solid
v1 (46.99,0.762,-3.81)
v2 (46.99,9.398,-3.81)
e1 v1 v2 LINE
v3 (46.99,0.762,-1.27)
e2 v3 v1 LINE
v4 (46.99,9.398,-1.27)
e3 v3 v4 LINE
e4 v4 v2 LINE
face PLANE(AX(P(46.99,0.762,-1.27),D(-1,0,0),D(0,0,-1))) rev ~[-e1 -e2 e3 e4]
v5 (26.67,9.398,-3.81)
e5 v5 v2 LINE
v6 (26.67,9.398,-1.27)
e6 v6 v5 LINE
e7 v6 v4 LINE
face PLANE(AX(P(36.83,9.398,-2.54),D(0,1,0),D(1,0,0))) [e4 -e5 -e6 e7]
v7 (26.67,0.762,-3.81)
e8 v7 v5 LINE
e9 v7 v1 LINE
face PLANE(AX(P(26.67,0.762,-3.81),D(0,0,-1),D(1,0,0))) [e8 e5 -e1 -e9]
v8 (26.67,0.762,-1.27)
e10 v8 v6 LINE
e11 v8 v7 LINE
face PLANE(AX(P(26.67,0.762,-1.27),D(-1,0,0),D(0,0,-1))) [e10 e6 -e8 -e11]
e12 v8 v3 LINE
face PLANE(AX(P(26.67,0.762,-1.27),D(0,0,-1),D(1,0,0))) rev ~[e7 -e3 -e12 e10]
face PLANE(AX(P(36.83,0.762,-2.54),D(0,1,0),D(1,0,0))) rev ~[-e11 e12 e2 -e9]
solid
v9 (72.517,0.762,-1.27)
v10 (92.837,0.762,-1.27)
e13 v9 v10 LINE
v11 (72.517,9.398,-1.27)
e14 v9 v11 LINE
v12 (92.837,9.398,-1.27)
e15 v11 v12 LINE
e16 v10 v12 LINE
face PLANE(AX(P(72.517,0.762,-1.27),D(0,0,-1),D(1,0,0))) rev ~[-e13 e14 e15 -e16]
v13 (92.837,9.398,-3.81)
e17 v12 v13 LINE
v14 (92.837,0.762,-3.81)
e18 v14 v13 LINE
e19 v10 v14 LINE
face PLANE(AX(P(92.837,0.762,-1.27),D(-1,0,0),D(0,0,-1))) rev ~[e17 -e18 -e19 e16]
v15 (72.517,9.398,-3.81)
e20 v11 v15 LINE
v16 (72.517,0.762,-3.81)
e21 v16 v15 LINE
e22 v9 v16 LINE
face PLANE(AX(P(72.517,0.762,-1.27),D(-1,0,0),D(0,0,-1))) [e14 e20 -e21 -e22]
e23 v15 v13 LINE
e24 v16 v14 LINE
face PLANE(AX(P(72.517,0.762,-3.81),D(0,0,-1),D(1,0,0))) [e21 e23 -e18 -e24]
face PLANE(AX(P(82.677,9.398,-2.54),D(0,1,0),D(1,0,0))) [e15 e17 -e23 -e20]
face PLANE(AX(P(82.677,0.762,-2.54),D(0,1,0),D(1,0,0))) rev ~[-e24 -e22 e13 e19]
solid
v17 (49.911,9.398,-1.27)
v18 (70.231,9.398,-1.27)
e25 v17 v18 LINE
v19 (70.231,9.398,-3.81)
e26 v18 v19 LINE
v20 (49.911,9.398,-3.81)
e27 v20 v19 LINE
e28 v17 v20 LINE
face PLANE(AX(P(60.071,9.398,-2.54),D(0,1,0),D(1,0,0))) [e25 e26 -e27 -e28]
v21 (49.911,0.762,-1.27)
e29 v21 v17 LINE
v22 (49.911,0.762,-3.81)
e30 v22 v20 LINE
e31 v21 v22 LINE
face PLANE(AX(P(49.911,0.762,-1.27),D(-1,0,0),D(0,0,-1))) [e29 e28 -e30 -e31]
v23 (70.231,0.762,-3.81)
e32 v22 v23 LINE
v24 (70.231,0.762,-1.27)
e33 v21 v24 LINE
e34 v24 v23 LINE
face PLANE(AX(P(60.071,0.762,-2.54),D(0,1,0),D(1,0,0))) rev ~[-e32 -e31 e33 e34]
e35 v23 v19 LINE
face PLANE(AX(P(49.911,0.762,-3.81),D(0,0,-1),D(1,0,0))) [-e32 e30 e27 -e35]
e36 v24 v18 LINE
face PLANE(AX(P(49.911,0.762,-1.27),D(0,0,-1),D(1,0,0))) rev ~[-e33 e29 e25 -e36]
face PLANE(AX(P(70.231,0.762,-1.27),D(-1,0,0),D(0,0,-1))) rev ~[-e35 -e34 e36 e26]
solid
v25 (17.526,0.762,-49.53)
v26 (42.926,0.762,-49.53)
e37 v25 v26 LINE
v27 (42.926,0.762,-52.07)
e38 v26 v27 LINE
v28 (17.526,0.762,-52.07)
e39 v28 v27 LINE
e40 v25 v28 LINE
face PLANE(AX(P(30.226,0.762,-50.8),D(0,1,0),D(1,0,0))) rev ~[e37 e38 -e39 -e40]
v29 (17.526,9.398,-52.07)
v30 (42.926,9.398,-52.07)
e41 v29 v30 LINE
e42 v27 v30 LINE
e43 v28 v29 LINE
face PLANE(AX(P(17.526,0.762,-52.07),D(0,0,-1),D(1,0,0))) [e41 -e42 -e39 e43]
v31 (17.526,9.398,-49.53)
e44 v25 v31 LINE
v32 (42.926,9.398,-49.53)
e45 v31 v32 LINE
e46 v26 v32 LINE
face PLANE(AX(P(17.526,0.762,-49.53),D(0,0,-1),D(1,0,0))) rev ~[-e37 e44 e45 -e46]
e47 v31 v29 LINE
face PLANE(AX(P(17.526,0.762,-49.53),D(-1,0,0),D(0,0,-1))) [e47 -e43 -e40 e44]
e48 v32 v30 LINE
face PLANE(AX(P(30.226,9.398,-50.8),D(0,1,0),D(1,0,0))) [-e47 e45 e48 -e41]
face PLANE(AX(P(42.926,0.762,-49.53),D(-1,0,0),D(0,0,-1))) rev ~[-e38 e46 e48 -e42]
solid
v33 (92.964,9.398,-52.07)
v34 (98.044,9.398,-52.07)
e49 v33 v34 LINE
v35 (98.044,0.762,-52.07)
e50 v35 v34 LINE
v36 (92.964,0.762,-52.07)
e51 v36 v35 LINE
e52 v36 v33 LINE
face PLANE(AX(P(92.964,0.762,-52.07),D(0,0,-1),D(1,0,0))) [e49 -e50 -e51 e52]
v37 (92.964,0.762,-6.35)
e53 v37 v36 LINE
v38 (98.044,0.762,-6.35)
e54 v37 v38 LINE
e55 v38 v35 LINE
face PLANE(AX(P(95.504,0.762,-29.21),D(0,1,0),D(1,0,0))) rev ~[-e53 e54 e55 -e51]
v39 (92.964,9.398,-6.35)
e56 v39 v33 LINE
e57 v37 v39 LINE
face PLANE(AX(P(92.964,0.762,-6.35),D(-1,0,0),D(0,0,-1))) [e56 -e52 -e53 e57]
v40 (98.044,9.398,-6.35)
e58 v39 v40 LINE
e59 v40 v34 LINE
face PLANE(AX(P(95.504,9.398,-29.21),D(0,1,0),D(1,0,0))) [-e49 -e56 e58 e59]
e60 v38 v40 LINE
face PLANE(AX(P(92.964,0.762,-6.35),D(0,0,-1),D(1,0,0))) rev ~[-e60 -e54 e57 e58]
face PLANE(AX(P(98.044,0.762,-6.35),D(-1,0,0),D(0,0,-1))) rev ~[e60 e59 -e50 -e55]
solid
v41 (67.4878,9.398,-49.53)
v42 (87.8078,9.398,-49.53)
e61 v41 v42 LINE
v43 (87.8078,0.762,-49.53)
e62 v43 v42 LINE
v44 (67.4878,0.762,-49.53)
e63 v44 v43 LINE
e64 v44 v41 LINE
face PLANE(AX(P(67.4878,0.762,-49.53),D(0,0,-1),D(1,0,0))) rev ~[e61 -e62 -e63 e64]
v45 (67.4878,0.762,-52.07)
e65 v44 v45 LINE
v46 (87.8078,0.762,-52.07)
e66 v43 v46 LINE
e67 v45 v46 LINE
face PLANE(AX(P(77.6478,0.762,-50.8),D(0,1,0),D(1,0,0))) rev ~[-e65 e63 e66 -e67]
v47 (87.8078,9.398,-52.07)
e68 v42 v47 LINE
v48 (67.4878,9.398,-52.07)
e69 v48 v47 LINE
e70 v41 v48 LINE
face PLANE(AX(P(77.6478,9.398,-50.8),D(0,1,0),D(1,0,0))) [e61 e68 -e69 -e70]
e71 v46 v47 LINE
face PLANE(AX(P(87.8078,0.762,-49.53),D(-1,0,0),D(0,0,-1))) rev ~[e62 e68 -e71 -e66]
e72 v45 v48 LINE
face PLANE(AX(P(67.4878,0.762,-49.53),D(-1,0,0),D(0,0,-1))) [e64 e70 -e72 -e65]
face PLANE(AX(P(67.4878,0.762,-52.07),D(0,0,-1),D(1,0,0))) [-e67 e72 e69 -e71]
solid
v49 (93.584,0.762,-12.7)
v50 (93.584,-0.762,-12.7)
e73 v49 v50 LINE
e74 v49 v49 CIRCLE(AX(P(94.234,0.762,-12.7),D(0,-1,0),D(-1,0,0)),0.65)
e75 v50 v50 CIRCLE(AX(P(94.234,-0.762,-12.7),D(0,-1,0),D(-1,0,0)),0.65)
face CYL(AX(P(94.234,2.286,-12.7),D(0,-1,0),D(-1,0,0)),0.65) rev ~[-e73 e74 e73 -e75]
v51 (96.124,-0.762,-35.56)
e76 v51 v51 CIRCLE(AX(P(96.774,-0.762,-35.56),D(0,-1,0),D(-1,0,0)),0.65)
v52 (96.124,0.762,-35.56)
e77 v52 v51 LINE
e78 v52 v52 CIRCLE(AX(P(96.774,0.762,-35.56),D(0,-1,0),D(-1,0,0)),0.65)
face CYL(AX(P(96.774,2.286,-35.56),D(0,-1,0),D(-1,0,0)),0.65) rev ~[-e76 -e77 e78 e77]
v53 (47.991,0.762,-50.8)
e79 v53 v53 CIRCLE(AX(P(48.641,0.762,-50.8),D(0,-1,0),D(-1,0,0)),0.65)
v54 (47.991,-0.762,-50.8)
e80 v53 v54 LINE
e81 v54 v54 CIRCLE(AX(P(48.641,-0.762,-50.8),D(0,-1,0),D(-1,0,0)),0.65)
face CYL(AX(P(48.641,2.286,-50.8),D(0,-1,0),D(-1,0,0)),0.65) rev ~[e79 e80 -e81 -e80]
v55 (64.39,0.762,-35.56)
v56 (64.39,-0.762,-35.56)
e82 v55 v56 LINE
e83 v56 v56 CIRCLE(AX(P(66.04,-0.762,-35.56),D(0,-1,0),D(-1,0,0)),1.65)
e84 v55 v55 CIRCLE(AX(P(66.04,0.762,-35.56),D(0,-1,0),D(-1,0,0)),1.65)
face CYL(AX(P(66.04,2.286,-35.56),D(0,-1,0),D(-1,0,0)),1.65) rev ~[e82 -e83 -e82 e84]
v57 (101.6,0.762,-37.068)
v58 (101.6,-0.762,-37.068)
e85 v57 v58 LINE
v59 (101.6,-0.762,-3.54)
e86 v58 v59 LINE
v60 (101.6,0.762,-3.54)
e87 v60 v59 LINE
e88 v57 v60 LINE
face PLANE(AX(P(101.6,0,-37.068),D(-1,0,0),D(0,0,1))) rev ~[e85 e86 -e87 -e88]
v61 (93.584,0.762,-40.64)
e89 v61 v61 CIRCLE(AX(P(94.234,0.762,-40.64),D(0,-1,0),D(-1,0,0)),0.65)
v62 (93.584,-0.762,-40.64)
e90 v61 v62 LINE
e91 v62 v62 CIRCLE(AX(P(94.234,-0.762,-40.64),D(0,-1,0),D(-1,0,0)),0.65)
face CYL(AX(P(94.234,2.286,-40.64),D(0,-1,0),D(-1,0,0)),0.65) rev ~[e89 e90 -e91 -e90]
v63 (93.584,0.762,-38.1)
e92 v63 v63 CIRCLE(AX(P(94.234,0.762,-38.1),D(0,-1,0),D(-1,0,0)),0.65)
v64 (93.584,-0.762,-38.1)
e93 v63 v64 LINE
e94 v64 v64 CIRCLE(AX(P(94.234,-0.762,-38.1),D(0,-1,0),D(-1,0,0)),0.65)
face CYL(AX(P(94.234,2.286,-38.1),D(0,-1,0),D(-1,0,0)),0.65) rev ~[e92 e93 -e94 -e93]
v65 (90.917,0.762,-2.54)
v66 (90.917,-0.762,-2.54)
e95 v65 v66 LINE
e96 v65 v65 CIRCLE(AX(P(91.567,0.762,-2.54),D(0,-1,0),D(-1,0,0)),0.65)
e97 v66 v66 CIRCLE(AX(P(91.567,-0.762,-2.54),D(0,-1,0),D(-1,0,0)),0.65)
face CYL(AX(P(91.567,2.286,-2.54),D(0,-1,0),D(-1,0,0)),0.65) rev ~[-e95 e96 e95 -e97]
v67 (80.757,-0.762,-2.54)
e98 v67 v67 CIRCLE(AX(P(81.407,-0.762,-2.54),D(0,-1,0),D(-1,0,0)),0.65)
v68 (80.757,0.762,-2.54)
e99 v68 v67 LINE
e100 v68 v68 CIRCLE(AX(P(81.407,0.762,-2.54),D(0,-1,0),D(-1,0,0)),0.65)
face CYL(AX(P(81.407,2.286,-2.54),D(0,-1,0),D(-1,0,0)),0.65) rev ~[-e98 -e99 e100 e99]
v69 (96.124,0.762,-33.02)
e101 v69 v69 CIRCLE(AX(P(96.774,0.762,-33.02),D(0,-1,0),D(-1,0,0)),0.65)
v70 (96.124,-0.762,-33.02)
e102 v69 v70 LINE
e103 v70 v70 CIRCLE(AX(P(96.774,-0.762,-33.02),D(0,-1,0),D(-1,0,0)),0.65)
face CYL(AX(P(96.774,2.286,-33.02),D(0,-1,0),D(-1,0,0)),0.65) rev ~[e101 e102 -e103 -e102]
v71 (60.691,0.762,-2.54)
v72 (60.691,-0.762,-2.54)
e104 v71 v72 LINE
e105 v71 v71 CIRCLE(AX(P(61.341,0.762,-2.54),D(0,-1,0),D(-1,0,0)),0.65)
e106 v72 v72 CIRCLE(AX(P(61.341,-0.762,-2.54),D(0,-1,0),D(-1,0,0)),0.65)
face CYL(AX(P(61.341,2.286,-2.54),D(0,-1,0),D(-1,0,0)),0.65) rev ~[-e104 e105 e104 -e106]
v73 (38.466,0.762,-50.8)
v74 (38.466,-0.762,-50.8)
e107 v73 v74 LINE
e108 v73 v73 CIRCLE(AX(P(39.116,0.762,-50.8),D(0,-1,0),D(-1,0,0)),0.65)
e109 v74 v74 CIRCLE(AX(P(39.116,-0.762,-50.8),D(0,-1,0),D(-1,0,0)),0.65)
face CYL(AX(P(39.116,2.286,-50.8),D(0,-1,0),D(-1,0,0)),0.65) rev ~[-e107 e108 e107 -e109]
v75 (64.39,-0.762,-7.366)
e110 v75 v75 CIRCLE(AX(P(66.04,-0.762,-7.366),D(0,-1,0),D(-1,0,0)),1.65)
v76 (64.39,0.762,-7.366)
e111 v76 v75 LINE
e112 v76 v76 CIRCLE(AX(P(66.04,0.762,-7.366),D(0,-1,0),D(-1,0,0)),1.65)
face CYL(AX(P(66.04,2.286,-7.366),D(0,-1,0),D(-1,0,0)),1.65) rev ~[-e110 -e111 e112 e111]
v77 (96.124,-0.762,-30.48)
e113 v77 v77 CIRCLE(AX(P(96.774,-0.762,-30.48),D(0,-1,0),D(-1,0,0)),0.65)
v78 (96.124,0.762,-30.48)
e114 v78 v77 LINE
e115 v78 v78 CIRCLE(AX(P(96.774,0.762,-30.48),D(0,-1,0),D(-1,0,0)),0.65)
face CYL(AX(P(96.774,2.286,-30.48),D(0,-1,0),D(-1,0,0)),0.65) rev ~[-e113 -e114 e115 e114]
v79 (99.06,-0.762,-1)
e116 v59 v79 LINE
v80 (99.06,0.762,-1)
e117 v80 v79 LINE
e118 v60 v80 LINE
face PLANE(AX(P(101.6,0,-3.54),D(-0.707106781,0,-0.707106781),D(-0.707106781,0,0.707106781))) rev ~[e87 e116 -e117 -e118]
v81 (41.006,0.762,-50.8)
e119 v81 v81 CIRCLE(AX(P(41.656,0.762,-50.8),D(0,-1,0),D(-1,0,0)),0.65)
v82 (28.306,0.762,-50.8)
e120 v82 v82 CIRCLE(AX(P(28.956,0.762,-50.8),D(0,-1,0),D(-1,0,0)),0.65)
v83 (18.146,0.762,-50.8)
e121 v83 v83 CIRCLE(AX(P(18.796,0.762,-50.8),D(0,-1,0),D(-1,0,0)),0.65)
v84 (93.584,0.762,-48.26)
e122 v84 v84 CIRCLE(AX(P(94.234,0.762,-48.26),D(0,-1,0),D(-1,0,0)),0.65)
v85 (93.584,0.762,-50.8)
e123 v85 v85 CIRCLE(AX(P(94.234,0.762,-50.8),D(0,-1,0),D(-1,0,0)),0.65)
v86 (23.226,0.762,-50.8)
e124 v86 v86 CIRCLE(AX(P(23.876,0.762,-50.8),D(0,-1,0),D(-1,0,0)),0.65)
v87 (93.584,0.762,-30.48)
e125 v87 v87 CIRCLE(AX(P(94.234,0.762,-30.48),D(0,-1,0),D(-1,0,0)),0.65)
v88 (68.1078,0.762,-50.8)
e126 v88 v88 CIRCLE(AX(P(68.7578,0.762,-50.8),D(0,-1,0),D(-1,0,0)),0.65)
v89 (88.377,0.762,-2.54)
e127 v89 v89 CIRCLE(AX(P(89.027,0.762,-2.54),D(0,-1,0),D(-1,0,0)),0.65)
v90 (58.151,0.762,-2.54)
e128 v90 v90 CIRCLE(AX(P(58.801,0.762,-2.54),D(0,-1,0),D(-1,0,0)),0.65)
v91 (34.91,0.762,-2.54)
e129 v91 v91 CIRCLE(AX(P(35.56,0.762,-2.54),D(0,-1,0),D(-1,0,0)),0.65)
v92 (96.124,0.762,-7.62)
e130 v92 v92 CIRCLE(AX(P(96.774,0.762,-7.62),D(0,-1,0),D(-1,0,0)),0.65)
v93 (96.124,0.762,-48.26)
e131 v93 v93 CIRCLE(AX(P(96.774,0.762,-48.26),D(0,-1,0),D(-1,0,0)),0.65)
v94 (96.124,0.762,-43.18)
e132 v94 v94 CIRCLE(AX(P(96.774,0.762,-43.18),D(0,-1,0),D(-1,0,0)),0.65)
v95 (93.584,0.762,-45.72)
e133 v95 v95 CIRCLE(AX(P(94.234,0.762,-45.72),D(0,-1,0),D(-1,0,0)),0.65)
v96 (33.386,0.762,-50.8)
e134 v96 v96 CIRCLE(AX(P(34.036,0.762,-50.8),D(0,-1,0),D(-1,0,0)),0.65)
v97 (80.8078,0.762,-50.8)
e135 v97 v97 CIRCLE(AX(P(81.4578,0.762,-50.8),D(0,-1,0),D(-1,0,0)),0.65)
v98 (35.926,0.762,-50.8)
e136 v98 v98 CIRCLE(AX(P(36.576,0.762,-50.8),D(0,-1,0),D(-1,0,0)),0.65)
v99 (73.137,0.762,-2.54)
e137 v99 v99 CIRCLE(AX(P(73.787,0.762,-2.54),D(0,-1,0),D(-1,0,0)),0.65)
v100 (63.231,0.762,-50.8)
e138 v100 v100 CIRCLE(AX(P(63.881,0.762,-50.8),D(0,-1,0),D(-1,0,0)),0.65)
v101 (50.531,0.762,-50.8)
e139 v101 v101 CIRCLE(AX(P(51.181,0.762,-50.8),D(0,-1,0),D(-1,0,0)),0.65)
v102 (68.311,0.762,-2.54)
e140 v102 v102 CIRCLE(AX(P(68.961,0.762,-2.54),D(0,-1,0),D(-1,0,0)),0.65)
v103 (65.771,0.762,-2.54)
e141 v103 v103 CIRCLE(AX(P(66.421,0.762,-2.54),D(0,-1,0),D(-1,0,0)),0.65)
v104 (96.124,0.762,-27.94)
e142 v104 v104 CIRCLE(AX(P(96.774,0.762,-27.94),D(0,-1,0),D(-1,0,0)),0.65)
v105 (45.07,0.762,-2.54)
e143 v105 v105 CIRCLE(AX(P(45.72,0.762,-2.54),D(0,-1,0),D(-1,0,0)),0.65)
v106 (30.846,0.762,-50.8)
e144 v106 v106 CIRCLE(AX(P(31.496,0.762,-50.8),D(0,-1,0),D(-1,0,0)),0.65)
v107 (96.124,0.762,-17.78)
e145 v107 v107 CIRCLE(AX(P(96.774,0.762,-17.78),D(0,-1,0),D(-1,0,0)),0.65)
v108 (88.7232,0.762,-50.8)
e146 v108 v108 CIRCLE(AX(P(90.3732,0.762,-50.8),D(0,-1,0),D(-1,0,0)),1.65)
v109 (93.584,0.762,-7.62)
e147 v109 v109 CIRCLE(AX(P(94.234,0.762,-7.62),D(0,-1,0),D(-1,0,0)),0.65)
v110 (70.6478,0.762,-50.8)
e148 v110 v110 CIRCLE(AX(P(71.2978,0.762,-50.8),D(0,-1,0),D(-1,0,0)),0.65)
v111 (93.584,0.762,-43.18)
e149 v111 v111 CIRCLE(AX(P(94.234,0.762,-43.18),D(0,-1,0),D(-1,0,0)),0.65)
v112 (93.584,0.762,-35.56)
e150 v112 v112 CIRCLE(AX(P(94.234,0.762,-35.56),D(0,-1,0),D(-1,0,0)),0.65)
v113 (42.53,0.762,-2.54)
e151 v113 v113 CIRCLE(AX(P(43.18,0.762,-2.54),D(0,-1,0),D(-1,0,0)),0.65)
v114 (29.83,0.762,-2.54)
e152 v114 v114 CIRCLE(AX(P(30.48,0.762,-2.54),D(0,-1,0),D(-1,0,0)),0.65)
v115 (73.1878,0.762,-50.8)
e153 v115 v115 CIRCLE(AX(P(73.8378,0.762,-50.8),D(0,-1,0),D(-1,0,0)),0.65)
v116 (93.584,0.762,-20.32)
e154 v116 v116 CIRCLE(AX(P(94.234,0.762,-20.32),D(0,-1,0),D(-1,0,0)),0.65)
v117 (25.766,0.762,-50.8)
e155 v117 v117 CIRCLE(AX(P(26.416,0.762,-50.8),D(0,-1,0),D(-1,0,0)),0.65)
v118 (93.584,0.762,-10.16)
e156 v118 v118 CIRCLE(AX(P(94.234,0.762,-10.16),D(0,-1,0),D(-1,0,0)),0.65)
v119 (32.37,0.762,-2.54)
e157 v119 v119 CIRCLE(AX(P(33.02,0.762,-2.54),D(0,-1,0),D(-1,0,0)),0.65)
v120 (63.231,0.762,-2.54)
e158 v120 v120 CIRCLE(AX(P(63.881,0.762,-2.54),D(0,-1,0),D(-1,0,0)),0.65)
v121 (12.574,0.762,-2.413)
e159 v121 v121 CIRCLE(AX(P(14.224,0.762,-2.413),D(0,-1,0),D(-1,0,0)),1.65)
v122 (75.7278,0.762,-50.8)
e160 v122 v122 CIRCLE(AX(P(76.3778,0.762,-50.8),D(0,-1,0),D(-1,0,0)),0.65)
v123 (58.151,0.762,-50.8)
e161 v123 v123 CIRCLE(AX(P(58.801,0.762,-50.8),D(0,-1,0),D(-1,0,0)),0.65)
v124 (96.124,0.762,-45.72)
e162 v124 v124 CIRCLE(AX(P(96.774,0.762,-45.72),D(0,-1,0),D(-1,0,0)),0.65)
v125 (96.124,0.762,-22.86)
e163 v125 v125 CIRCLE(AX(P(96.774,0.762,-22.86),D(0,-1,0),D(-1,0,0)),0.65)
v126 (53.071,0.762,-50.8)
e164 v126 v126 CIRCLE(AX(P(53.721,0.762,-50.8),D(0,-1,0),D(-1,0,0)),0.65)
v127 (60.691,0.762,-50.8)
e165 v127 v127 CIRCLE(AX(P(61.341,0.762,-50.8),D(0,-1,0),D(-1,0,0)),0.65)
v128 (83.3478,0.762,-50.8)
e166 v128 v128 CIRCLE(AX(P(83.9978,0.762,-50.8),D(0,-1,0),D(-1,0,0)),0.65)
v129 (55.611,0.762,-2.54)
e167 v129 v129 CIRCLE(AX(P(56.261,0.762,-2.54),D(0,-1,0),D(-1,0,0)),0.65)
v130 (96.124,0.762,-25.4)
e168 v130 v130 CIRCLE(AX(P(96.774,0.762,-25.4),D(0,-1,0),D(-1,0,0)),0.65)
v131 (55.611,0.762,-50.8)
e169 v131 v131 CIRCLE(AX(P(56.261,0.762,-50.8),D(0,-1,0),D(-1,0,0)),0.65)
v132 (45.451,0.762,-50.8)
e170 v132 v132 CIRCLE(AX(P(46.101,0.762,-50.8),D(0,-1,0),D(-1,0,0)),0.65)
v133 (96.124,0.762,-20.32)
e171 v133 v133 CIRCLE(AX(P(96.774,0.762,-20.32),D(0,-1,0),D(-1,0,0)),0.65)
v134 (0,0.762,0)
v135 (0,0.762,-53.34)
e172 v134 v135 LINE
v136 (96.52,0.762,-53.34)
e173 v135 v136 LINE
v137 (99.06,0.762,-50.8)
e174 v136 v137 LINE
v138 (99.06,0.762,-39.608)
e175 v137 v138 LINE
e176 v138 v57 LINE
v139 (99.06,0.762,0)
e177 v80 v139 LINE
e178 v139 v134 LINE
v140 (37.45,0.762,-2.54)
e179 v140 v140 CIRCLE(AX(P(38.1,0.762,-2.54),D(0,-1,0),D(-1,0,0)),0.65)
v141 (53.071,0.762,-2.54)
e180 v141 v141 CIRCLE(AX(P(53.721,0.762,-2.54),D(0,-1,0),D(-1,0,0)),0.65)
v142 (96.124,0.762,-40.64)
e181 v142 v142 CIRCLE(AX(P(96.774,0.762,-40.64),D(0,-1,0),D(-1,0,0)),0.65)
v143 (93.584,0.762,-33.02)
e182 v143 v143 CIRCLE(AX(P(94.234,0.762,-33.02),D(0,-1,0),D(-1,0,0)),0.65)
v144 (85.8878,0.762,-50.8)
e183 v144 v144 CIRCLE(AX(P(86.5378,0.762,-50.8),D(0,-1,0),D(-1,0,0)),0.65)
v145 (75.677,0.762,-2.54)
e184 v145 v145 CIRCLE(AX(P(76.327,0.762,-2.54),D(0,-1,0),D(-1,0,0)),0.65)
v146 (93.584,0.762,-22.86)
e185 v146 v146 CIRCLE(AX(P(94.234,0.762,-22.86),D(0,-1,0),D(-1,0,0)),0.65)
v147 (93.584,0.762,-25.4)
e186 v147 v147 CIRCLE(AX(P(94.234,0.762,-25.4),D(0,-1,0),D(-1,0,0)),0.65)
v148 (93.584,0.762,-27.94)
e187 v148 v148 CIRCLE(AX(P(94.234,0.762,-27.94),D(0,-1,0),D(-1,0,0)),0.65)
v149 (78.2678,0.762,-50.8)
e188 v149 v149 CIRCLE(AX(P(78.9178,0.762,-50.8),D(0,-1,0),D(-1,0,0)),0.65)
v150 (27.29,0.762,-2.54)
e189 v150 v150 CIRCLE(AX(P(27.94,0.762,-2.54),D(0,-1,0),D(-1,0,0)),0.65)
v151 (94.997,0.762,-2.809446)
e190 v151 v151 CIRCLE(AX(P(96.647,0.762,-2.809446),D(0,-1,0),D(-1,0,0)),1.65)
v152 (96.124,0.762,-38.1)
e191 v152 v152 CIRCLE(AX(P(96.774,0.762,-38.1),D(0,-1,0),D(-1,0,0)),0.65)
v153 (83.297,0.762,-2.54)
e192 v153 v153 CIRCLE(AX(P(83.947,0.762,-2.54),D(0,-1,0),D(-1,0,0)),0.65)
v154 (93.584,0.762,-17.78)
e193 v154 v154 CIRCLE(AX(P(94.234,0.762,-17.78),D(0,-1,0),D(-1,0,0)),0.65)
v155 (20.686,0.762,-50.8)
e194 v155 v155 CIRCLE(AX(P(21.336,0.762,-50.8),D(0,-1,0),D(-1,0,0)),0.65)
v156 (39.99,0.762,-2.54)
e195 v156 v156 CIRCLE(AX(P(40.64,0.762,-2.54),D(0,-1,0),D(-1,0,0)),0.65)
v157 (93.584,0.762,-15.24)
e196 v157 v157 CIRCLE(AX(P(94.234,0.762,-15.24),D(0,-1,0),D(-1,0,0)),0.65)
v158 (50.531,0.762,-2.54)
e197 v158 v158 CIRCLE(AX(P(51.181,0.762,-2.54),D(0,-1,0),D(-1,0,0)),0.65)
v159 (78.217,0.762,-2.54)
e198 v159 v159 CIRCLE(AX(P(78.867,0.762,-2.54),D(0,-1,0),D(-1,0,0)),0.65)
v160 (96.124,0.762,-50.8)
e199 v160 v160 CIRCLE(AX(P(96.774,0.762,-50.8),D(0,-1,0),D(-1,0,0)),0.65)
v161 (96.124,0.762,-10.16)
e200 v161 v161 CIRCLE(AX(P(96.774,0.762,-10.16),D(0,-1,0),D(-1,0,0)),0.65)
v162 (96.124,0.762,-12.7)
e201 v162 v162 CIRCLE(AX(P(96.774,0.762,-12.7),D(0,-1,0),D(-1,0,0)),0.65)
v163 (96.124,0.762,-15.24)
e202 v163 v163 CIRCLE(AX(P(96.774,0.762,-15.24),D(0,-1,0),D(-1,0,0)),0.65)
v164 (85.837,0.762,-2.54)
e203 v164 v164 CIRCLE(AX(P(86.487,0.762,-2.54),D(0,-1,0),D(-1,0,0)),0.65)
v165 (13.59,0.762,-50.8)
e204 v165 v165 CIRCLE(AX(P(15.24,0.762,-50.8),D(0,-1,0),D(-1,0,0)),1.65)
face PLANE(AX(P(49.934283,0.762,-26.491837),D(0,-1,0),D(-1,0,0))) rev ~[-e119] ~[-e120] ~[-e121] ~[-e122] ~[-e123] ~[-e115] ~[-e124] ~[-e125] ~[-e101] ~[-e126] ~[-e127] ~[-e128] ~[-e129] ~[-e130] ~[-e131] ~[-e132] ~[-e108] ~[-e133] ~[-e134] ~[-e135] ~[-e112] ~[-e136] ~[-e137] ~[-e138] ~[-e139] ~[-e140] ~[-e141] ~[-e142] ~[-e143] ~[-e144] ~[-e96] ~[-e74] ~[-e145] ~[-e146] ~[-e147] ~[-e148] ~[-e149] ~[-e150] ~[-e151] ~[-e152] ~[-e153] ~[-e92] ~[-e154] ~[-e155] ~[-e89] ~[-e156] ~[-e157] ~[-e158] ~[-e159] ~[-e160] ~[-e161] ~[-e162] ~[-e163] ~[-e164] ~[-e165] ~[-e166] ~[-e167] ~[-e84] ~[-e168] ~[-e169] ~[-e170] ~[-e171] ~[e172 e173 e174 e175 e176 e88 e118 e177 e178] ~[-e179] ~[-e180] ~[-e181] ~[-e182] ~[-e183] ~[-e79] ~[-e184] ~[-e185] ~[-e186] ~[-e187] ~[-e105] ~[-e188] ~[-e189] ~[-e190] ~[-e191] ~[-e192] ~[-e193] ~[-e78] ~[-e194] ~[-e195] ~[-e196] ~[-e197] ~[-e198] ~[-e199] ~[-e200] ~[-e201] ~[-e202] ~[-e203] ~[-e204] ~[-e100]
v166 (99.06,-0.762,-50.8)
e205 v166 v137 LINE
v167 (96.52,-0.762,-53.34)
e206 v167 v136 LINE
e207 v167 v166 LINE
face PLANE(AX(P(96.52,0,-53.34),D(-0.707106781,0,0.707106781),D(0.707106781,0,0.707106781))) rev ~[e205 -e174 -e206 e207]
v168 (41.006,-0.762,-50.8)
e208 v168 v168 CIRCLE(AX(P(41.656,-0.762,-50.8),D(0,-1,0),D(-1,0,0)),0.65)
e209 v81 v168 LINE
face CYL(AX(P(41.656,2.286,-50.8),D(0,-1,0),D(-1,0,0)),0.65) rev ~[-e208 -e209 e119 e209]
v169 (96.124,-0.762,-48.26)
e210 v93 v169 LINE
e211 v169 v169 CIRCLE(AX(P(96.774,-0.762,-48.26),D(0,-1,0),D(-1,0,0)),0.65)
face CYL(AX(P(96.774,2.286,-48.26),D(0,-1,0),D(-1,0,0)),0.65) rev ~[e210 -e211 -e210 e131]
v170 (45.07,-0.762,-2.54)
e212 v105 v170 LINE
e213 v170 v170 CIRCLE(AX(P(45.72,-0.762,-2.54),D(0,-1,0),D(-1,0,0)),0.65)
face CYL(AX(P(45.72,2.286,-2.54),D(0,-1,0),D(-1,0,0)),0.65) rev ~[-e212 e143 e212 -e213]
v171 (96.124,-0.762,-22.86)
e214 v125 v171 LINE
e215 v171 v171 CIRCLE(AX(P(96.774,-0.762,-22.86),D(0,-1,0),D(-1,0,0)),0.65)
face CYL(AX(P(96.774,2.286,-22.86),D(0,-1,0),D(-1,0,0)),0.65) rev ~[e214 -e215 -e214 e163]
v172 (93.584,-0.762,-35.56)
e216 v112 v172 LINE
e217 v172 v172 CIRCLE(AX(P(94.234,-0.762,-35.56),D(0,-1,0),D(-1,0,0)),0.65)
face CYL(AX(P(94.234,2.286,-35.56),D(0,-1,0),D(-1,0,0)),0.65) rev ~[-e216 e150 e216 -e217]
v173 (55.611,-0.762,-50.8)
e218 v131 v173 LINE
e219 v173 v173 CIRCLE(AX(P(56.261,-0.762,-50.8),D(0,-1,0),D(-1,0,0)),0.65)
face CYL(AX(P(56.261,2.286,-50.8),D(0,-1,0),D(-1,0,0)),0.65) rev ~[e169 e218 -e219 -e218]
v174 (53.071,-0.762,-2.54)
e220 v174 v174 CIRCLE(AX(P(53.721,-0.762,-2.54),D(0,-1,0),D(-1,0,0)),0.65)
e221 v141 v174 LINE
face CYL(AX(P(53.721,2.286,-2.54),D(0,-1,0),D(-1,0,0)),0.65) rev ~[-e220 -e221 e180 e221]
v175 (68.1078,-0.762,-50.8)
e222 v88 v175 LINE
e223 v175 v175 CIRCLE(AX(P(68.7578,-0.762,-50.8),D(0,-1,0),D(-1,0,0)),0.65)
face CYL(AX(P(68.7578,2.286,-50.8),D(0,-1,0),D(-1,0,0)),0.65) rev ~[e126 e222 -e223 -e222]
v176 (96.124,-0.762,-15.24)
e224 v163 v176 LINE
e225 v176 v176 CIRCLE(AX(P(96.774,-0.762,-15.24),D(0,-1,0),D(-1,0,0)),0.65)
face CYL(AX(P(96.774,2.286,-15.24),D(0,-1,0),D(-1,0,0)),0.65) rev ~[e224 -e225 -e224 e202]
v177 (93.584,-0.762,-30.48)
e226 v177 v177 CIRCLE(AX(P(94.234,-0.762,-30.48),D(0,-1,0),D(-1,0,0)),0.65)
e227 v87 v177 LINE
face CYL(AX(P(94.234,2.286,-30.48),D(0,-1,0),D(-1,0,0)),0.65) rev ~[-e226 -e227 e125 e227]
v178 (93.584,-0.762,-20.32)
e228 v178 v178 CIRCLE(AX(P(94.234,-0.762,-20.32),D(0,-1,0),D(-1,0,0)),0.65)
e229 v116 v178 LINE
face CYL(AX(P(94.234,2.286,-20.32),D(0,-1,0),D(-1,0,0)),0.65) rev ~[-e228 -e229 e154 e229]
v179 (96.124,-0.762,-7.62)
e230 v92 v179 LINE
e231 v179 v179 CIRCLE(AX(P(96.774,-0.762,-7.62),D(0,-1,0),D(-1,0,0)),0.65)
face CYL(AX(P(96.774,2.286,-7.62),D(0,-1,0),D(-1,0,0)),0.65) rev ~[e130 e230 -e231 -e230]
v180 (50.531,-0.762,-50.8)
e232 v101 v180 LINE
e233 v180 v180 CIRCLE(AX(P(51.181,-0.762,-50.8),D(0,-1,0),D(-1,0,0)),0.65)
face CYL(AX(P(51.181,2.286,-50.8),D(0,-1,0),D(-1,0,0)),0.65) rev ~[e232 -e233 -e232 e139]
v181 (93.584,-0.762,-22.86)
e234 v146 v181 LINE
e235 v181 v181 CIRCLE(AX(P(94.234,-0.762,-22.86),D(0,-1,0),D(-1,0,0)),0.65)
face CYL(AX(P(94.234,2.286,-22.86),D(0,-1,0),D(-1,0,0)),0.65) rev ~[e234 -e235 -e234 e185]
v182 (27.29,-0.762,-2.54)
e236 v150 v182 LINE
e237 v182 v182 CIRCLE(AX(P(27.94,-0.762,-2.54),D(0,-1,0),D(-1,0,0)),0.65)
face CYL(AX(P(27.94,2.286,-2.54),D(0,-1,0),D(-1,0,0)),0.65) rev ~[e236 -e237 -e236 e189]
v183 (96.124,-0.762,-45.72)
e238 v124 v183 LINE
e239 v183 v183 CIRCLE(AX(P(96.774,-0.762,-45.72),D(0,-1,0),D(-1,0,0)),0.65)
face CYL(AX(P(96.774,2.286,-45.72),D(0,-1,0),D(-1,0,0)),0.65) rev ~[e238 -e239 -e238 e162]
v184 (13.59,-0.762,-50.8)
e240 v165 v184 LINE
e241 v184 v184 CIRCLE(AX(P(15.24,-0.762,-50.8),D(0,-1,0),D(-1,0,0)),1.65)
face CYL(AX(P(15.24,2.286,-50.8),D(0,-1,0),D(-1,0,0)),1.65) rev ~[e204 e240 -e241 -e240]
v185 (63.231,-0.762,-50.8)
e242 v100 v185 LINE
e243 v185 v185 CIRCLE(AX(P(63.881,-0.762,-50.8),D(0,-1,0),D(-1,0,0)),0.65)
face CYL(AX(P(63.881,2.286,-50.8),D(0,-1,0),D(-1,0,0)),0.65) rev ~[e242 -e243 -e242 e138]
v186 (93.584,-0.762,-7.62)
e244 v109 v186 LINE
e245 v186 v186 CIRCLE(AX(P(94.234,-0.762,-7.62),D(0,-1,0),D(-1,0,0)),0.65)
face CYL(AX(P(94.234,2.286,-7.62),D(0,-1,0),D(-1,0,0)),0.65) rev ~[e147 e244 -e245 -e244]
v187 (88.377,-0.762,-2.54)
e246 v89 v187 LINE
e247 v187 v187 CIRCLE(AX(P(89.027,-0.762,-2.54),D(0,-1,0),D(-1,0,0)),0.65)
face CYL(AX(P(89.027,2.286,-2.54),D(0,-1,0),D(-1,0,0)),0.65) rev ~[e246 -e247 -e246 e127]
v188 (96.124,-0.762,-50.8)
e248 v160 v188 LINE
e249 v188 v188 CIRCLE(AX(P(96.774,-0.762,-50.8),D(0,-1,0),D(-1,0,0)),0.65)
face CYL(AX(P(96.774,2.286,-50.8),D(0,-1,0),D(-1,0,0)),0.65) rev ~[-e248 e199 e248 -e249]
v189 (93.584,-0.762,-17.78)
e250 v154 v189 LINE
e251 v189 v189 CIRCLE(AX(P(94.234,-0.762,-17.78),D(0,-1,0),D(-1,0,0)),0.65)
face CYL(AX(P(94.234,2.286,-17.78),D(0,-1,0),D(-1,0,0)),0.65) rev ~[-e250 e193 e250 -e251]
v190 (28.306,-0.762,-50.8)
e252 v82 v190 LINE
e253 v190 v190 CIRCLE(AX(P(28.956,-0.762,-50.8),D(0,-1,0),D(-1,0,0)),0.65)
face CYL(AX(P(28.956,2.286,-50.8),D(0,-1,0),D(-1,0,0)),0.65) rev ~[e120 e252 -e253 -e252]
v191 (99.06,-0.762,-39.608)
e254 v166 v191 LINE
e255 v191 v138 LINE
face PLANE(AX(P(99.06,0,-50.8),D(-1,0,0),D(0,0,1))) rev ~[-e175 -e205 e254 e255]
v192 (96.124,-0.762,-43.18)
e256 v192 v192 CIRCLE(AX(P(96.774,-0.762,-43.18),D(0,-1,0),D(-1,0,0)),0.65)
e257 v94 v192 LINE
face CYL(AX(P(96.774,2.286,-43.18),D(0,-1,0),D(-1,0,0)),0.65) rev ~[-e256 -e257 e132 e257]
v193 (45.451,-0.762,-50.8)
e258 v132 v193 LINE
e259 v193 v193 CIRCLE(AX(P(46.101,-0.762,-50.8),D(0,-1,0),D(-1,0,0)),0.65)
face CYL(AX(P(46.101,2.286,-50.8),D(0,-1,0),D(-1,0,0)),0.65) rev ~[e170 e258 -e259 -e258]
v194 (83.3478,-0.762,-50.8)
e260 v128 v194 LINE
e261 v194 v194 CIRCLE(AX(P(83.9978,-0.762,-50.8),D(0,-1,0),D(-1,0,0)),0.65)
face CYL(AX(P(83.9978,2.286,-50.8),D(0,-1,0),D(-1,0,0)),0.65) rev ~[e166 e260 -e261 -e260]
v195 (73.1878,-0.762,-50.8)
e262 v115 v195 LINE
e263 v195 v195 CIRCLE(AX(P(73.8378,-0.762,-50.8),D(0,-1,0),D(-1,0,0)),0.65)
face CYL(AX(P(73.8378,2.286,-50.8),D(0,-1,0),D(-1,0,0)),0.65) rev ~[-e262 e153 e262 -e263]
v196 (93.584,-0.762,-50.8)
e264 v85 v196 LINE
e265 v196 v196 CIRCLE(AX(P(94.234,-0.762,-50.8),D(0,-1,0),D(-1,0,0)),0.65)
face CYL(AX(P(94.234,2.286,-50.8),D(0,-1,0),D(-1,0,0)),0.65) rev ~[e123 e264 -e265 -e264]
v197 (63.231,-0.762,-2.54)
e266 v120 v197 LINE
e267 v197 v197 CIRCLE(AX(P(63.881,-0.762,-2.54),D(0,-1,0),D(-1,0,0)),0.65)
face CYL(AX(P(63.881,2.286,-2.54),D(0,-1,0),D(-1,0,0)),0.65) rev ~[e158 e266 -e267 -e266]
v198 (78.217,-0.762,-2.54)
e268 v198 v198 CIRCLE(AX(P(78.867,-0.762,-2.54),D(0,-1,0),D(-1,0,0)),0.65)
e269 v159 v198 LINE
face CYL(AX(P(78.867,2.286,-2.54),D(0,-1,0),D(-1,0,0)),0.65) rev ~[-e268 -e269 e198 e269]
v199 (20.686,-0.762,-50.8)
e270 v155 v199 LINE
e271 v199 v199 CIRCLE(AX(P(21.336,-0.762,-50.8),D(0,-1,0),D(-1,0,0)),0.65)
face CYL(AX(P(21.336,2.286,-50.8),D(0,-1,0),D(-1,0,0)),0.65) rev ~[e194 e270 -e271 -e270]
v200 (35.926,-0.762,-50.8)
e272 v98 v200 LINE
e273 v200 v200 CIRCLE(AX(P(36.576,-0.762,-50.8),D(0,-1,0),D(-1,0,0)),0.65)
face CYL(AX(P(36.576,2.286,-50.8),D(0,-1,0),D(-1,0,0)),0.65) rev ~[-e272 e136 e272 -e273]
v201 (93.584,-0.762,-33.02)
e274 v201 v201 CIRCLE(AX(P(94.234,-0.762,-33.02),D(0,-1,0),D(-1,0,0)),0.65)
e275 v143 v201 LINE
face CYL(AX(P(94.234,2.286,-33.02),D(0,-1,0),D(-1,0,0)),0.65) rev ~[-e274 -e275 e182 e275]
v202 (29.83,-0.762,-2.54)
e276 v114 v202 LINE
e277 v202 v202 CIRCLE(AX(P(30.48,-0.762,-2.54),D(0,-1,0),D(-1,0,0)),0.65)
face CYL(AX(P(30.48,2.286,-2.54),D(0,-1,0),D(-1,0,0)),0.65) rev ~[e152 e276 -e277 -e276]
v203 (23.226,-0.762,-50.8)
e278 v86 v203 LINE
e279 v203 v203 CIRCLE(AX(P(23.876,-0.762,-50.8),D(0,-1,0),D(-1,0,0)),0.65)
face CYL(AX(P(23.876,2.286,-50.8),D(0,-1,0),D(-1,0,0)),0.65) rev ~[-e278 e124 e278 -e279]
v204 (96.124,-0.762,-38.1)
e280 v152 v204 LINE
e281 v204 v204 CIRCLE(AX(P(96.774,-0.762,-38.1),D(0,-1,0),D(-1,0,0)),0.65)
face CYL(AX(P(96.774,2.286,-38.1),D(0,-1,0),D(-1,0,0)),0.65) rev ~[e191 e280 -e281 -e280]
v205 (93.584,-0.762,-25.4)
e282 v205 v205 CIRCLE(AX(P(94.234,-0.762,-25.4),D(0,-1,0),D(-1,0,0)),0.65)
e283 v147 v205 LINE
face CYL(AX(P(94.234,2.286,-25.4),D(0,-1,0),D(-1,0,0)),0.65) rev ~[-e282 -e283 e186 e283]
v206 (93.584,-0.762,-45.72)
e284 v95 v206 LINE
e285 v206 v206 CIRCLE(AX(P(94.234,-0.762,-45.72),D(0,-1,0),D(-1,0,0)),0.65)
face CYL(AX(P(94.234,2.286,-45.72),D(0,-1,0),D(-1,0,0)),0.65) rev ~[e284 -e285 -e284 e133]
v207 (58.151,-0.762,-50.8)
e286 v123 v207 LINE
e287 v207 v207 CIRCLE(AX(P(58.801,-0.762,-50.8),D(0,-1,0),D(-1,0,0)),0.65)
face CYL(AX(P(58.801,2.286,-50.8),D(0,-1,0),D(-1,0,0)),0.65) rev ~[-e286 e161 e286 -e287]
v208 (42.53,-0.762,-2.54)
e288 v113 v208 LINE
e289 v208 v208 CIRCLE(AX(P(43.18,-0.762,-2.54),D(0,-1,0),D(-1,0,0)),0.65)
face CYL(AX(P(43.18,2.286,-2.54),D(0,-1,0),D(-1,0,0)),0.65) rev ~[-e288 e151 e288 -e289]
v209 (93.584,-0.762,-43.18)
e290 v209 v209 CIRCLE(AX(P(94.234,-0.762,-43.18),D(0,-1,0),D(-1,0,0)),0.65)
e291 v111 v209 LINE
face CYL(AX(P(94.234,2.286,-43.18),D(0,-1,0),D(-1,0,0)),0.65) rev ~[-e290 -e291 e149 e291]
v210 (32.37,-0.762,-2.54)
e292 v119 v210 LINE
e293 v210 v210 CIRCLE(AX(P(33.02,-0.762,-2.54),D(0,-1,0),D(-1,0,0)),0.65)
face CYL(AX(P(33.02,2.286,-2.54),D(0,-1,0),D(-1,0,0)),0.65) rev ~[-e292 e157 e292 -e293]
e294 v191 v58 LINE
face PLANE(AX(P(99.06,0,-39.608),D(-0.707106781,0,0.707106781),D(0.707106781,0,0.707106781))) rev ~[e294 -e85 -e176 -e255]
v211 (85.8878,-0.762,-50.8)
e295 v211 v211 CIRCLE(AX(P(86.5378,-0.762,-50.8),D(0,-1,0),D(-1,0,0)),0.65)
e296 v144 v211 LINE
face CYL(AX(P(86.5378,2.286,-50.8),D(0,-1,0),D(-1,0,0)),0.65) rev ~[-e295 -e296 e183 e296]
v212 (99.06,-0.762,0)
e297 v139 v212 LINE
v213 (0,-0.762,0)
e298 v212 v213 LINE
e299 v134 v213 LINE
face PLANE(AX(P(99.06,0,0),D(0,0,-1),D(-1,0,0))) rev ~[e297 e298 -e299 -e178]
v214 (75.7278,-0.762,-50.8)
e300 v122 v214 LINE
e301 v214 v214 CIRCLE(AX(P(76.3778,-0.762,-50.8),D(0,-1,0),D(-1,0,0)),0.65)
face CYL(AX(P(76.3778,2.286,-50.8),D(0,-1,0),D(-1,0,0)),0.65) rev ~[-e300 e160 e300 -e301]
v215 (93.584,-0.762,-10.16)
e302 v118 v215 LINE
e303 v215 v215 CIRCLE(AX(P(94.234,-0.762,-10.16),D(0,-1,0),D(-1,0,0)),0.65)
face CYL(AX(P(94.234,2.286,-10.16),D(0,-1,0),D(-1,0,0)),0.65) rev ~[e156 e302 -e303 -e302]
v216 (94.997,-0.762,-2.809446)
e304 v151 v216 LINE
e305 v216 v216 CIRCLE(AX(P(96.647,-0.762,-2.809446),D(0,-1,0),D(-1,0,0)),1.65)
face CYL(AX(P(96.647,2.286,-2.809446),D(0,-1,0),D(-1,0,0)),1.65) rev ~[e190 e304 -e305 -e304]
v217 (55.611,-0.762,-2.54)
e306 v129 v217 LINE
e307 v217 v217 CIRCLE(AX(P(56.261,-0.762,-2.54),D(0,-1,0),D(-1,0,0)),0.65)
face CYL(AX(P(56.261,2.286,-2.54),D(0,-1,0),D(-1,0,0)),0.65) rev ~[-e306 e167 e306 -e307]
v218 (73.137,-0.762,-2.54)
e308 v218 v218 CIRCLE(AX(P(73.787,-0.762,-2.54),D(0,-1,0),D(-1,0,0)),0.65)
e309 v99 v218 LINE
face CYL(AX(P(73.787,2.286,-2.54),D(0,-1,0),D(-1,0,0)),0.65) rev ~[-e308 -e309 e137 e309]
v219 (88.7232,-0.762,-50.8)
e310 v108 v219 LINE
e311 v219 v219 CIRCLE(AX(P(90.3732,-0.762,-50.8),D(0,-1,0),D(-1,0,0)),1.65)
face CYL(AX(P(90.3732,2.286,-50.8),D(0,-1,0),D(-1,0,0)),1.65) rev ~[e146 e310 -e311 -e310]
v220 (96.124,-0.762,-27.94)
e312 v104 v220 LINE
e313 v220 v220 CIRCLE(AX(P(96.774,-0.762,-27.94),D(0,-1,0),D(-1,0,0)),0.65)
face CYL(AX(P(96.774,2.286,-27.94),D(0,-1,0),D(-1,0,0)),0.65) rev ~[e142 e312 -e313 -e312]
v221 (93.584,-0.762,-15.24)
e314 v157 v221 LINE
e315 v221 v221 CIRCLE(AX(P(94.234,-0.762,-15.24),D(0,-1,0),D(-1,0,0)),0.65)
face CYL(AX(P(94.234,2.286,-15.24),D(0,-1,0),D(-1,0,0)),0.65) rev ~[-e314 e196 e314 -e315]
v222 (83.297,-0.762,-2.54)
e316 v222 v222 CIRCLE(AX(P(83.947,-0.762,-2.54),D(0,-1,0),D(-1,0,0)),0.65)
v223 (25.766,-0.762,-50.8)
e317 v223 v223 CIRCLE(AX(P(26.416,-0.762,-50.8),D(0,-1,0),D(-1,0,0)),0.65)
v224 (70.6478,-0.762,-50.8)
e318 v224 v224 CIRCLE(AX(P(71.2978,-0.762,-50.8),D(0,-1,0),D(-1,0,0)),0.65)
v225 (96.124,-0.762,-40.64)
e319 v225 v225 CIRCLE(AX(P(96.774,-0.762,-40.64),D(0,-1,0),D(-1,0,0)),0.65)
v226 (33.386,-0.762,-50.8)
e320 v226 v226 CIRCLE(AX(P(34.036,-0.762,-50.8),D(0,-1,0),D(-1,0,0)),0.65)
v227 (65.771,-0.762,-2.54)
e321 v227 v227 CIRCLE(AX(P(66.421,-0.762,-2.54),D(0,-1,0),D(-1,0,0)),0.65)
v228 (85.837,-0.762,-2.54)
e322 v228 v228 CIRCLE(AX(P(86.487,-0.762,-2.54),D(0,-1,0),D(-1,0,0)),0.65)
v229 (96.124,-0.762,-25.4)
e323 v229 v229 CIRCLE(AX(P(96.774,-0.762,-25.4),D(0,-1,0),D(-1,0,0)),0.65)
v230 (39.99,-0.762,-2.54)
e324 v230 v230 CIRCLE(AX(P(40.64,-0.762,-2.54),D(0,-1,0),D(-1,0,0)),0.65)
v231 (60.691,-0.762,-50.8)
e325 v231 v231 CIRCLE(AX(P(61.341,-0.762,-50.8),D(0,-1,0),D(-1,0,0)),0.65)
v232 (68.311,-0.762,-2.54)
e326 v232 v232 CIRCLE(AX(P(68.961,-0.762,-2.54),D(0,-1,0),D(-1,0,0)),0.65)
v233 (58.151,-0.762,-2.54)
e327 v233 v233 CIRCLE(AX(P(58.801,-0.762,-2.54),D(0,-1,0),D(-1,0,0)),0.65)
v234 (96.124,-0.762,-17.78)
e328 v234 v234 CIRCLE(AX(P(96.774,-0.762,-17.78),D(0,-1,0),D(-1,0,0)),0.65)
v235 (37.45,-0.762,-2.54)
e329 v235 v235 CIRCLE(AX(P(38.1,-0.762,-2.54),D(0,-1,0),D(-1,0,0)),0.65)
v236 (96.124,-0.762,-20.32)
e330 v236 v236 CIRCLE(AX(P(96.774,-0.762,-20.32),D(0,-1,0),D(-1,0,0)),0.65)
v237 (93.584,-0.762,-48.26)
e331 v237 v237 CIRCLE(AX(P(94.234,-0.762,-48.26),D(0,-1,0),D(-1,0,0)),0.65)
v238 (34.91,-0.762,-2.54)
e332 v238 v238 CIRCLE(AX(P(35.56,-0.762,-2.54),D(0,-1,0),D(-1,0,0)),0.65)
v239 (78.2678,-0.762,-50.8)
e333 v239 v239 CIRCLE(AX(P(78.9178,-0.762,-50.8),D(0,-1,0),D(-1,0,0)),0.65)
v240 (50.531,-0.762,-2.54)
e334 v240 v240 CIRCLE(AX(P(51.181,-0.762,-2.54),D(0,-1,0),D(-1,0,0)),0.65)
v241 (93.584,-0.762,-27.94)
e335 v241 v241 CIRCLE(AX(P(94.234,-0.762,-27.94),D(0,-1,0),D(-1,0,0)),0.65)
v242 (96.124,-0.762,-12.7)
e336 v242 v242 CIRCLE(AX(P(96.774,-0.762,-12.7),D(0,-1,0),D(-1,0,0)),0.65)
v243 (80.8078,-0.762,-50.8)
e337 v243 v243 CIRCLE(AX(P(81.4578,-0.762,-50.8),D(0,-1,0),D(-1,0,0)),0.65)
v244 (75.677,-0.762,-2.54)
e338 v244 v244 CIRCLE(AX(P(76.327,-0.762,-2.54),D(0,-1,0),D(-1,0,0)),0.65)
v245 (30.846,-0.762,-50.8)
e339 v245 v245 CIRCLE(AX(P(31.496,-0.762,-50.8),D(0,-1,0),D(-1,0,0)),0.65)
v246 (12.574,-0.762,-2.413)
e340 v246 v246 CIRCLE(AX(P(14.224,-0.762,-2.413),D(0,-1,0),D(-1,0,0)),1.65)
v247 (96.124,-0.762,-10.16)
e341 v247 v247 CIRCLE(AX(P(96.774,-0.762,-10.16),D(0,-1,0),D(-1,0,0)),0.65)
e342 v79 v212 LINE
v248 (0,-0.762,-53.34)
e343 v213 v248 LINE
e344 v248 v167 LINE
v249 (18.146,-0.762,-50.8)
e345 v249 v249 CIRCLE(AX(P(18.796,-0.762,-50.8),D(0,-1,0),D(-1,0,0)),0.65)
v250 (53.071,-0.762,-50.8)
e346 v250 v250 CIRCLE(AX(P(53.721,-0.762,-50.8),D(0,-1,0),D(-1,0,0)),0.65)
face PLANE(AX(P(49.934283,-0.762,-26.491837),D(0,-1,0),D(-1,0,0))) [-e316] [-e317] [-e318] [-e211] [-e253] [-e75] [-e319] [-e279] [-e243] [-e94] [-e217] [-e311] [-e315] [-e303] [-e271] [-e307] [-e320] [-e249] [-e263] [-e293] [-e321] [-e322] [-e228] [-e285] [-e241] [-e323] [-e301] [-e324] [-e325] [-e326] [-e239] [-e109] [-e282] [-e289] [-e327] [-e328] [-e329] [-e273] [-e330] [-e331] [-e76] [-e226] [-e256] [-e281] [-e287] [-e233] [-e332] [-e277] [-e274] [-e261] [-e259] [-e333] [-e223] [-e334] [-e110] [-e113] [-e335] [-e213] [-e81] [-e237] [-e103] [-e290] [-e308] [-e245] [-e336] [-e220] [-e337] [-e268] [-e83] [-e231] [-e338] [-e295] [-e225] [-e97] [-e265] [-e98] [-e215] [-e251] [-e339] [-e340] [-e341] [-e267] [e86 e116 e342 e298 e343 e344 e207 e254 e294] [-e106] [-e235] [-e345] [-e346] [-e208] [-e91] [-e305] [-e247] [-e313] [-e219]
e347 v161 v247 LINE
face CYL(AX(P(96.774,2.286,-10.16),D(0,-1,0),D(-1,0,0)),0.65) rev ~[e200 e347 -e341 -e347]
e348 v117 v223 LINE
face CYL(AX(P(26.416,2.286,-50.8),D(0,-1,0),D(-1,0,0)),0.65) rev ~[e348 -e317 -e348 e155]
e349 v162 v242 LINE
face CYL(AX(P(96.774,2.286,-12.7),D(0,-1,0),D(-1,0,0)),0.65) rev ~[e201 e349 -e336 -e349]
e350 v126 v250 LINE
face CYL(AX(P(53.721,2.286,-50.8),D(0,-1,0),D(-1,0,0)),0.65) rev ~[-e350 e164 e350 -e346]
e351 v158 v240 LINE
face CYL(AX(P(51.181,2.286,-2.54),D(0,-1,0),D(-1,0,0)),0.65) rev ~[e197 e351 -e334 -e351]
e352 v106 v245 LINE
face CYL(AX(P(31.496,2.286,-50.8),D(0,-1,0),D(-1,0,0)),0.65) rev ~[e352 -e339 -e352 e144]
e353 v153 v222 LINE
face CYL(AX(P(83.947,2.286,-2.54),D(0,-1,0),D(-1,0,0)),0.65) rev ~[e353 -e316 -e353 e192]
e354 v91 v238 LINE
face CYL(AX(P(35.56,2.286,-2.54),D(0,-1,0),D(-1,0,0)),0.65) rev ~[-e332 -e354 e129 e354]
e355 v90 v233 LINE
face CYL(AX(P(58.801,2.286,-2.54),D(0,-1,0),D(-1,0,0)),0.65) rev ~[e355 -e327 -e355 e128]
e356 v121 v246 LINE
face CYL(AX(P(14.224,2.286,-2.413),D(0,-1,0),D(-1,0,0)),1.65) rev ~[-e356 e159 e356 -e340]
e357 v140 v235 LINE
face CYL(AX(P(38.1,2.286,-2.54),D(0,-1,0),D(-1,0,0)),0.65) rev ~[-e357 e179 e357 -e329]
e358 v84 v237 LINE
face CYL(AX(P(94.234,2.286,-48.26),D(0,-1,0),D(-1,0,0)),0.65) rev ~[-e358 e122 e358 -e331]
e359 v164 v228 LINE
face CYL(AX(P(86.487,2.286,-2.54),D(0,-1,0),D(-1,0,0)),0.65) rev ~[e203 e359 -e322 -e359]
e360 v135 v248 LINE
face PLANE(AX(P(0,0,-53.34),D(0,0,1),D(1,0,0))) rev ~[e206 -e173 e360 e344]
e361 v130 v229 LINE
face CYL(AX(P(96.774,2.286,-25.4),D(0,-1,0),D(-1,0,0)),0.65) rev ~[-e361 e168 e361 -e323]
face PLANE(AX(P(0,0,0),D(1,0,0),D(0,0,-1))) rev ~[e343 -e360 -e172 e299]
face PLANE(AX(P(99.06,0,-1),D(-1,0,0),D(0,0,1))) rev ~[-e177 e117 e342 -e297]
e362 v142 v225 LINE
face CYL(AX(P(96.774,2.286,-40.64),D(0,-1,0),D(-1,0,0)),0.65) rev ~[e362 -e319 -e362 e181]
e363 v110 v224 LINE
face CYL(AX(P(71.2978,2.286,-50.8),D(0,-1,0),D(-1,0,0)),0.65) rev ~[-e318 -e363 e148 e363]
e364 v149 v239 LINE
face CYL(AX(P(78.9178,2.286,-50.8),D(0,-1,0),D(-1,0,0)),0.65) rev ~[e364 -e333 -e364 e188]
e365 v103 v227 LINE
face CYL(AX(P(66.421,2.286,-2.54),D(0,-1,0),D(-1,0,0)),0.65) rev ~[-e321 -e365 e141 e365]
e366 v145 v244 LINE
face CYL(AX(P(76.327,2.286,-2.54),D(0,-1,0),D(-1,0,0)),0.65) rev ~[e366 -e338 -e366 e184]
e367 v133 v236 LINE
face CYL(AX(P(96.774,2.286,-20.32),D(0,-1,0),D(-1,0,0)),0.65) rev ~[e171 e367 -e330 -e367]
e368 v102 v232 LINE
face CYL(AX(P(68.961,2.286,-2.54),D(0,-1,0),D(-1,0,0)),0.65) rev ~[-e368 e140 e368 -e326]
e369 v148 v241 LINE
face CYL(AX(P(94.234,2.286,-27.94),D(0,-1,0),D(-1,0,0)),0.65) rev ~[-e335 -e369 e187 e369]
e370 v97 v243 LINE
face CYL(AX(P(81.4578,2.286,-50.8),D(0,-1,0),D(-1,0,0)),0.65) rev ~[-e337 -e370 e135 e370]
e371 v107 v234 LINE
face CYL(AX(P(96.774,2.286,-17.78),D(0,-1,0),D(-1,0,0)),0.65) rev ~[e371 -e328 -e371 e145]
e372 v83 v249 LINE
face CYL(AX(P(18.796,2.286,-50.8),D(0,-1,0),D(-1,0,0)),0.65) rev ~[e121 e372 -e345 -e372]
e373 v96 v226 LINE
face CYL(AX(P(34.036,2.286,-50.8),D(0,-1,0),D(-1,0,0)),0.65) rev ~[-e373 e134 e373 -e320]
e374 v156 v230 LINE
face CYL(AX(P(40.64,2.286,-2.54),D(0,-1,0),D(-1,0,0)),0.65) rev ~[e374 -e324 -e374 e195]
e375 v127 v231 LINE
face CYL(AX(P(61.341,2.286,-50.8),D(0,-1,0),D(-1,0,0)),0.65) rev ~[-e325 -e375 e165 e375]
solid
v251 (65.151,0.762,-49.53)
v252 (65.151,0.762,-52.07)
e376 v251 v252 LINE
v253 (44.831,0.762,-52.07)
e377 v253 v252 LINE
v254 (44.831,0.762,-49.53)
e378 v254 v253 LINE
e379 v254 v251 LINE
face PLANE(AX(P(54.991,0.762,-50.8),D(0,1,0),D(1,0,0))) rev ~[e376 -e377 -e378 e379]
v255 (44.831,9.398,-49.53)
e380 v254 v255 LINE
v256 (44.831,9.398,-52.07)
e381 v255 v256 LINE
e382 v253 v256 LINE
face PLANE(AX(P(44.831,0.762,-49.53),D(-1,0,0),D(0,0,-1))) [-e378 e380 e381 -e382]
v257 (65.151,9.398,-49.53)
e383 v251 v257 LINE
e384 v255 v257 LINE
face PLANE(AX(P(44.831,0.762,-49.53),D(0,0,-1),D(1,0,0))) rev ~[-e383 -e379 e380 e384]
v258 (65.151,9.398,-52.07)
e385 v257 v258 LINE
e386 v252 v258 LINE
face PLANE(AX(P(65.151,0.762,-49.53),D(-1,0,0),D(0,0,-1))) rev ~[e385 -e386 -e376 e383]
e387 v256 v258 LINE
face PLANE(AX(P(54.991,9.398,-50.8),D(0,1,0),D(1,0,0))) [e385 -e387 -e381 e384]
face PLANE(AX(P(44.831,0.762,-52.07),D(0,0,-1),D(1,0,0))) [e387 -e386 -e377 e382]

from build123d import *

# Parameters (mm, degrees)
BOSS_EXTRUDE1_DEPTH            = 0.762
F_1_3_1_3_DIAMETER_HOLE1_D     = 1.3
F_1_3_1_3_DIAMETER_HOLE1_DEPTH = 1.524
F_3_3_3_3_DIAMETER_HOLE1_D     = 3.3
F_3_3_3_3_DIAMETER_HOLE1_DEPTH = 1.524
SKETCH6_W                      = 25.4
SKETCH6_H                      = 2.54
BOSS_EXTRUDE2_DEPTH            = 8.636
SKETCH6_W_2                    = 20.32
BOSS_EXTRUDE2_2_DEPTH          = 8.636
BOSS_EXTRUDE2_3_DEPTH          = 8.636
SKETCH6_W_3                    = 5.08
SKETCH6_H_2                    = 45.72
BOSS_EXTRUDE2_4_DEPTH          = 8.636
BOSS_EXTRUDE2_5_DEPTH          = 8.636
BOSS_EXTRUDE2_6_DEPTH          = 8.636
BOSS_EXTRUDE2_7_DEPTH          = 8.636


with BuildPart() as part:
    # Sketch1 → Boss-Extrude1 (new body, symmetric)
    with BuildSketch(Plane(origin=(0, 0, 0), x_dir=(1, 0, 0), z_dir=(0, 1, 0))):
        Polygon((99.06, 39.608), (101.6, 37.068), (101.6, 3.54), (99.06, 1), (99.06, 0), (0, 0), (0, 53.34), (96.52, 53.34), (99.06, 50.8), align=None)
    extrude(amount=BOSS_EXTRUDE1_DEPTH, both=True)

    # Ø1.3 (1.3) Diameter Hole1
    with Locations(Plane(origin=(0, 0.762, 0), x_dir=(1, 0, 0), z_dir=(0, 1, 0))):
        with Locations((27.94, 2.54), (18.796, 50.8), (30.48, 2.54), (33.02, 2.54), (35.56, 2.54), (38.1, 2.54), (40.64, 2.54), (43.18, 2.54), (45.72, 2.54), (21.336, 50.8), (23.876, 50.8), (26.416, 50.8), (28.956, 50.8), (31.496, 50.8), (34.036, 50.8), (36.576, 50.8), (39.116, 50.8), (41.656, 50.8), (51.181, 2.54), (46.101, 50.8), (53.721, 2.54), (56.261, 2.54), (58.801, 2.54), (61.341, 2.54), (63.881, 2.54), (66.421, 2.54), (68.961, 2.54), (48.641, 50.8), (51.181, 50.8), (53.721, 50.8), (56.261, 50.8), (58.801, 50.8), (61.341, 50.8), (63.881, 50.8), (68.7578, 50.8), (73.787, 2.54), (71.2978, 50.8), (76.327, 2.54), (73.8378, 50.8), (78.867, 2.54), (76.3778, 50.8), (81.407, 2.54), (78.9178, 50.8), (83.947, 2.54), (81.4578, 50.8), (86.487, 2.54), (83.9978, 50.8), (89.027, 2.54), (86.5378, 50.8), (91.567, 2.54), (94.234, 50.8), (96.774, 50.8), (94.234, 48.26), (96.774, 48.26), (94.234, 45.72), (96.774, 45.72), (94.234, 43.18), (96.774, 43.18), (94.234, 40.64), (96.774, 40.64), (94.234, 38.1), (96.774, 38.1), (94.234, 35.56), (96.774, 35.56), (94.234, 33.02), (96.774, 33.02), (94.234, 30.48), (96.774, 30.48), (94.234, 27.94), (96.774, 27.94), (94.234, 25.4), (96.774, 25.4), (94.234, 22.86), (96.774, 22.86), (94.234, 20.32), (96.774, 20.32), (94.234, 17.78), (96.774, 17.78), (94.234, 15.24), (96.774, 15.24), (94.234, 12.7), (96.774, 12.7), (94.234, 10.16), (96.774, 10.16), (94.234, 7.62), (96.774, 7.62)):
            Hole(F_1_3_1_3_DIAMETER_HOLE1_D / 2, depth=F_1_3_1_3_DIAMETER_HOLE1_DEPTH)

    # Ø3.3 (3.3) Diameter Hole1
    with Locations(Plane(origin=(0, 0.762, 0), x_dir=(1, 0, 0), z_dir=(0, 1, 0))):
        with Locations((15.24, 50.8), (90.3732, 50.8), (96.647, 2.809446088), (66.04, 7.366), (66.04, 35.56), (14.224, 2.413)):
            Hole(F_3_3_3_3_DIAMETER_HOLE1_D / 2, depth=F_3_3_3_3_DIAMETER_HOLE1_DEPTH)


with BuildPart() as body_2:
    # Sketch6 → Boss-Extrude2 (new body)
    with BuildSketch(Plane(origin=(0, 0.762, 0), x_dir=(1, 0, 0), z_dir=(0, 1, 0))):
        with Locations((30.226, 50.8)):
            Rectangle(SKETCH6_W, SKETCH6_H)
    extrude(amount=BOSS_EXTRUDE2_DEPTH)


with BuildPart() as body_3:
    # Sketch6 → Boss-Extrude2 2 (new body)
    with BuildSketch(Plane(origin=(0, 0.762, 0), x_dir=(1, 0, 0), z_dir=(0, 1, 0))):
        with Locations((54.991, 50.8)):
            Rectangle(SKETCH6_W_2, SKETCH6_H)
    extrude(amount=BOSS_EXTRUDE2_2_DEPTH)


with BuildPart() as body_4:
    # Sketch6 → Boss-Extrude2 3 (new body)
    with BuildSketch(Plane(origin=(0, 0.762, 0), x_dir=(1, 0, 0), z_dir=(0, 1, 0))):
        with Locations((77.6478, 50.8)):
            Rectangle(SKETCH6_W_2, SKETCH6_H)
    extrude(amount=BOSS_EXTRUDE2_3_DEPTH)


with BuildPart() as body_5:
    # Sketch6 → Boss-Extrude2 4 (new body)
    with BuildSketch(Plane(origin=(0, 0.762, 0), x_dir=(1, 0, 0), z_dir=(0, 1, 0))):
        with Locations((95.504, 29.21)):
            Rectangle(SKETCH6_W_3, SKETCH6_H_2)
    extrude(amount=BOSS_EXTRUDE2_4_DEPTH)


with BuildPart() as body_6:
    # Sketch6 → Boss-Extrude2 5 (new body)
    with BuildSketch(Plane(origin=(0, 0.762, 0), x_dir=(1, 0, 0), z_dir=(0, 1, 0))):
        with Locations((82.677, 2.54)):
            Rectangle(SKETCH6_W_2, SKETCH6_H)
    extrude(amount=BOSS_EXTRUDE2_5_DEPTH)


with BuildPart() as body_7:
    # Sketch6 → Boss-Extrude2 6 (new body)
    with BuildSketch(Plane(origin=(0, 0.762, 0), x_dir=(1, 0, 0), z_dir=(0, 1, 0))):
        with Locations((36.83, 2.54)):
            Rectangle(SKETCH6_W_2, SKETCH6_H)
    extrude(amount=BOSS_EXTRUDE2_6_DEPTH)


with BuildPart() as body_8:
    # Sketch6 → Boss-Extrude2 7 (new body)
    with BuildSketch(Plane(origin=(0, 0.762, 0), x_dir=(1, 0, 0), z_dir=(0, 1, 0))):
        with Locations((60.071, 2.54)):
            Rectangle(SKETCH6_W_2, SKETCH6_H)
    extrude(amount=BOSS_EXTRUDE2_7_DEPTH)


solid = Compound([part.part, body_2.part, body_3.part, body_4.part, body_5.part, body_6.part, body_7.part, body_8.part])
